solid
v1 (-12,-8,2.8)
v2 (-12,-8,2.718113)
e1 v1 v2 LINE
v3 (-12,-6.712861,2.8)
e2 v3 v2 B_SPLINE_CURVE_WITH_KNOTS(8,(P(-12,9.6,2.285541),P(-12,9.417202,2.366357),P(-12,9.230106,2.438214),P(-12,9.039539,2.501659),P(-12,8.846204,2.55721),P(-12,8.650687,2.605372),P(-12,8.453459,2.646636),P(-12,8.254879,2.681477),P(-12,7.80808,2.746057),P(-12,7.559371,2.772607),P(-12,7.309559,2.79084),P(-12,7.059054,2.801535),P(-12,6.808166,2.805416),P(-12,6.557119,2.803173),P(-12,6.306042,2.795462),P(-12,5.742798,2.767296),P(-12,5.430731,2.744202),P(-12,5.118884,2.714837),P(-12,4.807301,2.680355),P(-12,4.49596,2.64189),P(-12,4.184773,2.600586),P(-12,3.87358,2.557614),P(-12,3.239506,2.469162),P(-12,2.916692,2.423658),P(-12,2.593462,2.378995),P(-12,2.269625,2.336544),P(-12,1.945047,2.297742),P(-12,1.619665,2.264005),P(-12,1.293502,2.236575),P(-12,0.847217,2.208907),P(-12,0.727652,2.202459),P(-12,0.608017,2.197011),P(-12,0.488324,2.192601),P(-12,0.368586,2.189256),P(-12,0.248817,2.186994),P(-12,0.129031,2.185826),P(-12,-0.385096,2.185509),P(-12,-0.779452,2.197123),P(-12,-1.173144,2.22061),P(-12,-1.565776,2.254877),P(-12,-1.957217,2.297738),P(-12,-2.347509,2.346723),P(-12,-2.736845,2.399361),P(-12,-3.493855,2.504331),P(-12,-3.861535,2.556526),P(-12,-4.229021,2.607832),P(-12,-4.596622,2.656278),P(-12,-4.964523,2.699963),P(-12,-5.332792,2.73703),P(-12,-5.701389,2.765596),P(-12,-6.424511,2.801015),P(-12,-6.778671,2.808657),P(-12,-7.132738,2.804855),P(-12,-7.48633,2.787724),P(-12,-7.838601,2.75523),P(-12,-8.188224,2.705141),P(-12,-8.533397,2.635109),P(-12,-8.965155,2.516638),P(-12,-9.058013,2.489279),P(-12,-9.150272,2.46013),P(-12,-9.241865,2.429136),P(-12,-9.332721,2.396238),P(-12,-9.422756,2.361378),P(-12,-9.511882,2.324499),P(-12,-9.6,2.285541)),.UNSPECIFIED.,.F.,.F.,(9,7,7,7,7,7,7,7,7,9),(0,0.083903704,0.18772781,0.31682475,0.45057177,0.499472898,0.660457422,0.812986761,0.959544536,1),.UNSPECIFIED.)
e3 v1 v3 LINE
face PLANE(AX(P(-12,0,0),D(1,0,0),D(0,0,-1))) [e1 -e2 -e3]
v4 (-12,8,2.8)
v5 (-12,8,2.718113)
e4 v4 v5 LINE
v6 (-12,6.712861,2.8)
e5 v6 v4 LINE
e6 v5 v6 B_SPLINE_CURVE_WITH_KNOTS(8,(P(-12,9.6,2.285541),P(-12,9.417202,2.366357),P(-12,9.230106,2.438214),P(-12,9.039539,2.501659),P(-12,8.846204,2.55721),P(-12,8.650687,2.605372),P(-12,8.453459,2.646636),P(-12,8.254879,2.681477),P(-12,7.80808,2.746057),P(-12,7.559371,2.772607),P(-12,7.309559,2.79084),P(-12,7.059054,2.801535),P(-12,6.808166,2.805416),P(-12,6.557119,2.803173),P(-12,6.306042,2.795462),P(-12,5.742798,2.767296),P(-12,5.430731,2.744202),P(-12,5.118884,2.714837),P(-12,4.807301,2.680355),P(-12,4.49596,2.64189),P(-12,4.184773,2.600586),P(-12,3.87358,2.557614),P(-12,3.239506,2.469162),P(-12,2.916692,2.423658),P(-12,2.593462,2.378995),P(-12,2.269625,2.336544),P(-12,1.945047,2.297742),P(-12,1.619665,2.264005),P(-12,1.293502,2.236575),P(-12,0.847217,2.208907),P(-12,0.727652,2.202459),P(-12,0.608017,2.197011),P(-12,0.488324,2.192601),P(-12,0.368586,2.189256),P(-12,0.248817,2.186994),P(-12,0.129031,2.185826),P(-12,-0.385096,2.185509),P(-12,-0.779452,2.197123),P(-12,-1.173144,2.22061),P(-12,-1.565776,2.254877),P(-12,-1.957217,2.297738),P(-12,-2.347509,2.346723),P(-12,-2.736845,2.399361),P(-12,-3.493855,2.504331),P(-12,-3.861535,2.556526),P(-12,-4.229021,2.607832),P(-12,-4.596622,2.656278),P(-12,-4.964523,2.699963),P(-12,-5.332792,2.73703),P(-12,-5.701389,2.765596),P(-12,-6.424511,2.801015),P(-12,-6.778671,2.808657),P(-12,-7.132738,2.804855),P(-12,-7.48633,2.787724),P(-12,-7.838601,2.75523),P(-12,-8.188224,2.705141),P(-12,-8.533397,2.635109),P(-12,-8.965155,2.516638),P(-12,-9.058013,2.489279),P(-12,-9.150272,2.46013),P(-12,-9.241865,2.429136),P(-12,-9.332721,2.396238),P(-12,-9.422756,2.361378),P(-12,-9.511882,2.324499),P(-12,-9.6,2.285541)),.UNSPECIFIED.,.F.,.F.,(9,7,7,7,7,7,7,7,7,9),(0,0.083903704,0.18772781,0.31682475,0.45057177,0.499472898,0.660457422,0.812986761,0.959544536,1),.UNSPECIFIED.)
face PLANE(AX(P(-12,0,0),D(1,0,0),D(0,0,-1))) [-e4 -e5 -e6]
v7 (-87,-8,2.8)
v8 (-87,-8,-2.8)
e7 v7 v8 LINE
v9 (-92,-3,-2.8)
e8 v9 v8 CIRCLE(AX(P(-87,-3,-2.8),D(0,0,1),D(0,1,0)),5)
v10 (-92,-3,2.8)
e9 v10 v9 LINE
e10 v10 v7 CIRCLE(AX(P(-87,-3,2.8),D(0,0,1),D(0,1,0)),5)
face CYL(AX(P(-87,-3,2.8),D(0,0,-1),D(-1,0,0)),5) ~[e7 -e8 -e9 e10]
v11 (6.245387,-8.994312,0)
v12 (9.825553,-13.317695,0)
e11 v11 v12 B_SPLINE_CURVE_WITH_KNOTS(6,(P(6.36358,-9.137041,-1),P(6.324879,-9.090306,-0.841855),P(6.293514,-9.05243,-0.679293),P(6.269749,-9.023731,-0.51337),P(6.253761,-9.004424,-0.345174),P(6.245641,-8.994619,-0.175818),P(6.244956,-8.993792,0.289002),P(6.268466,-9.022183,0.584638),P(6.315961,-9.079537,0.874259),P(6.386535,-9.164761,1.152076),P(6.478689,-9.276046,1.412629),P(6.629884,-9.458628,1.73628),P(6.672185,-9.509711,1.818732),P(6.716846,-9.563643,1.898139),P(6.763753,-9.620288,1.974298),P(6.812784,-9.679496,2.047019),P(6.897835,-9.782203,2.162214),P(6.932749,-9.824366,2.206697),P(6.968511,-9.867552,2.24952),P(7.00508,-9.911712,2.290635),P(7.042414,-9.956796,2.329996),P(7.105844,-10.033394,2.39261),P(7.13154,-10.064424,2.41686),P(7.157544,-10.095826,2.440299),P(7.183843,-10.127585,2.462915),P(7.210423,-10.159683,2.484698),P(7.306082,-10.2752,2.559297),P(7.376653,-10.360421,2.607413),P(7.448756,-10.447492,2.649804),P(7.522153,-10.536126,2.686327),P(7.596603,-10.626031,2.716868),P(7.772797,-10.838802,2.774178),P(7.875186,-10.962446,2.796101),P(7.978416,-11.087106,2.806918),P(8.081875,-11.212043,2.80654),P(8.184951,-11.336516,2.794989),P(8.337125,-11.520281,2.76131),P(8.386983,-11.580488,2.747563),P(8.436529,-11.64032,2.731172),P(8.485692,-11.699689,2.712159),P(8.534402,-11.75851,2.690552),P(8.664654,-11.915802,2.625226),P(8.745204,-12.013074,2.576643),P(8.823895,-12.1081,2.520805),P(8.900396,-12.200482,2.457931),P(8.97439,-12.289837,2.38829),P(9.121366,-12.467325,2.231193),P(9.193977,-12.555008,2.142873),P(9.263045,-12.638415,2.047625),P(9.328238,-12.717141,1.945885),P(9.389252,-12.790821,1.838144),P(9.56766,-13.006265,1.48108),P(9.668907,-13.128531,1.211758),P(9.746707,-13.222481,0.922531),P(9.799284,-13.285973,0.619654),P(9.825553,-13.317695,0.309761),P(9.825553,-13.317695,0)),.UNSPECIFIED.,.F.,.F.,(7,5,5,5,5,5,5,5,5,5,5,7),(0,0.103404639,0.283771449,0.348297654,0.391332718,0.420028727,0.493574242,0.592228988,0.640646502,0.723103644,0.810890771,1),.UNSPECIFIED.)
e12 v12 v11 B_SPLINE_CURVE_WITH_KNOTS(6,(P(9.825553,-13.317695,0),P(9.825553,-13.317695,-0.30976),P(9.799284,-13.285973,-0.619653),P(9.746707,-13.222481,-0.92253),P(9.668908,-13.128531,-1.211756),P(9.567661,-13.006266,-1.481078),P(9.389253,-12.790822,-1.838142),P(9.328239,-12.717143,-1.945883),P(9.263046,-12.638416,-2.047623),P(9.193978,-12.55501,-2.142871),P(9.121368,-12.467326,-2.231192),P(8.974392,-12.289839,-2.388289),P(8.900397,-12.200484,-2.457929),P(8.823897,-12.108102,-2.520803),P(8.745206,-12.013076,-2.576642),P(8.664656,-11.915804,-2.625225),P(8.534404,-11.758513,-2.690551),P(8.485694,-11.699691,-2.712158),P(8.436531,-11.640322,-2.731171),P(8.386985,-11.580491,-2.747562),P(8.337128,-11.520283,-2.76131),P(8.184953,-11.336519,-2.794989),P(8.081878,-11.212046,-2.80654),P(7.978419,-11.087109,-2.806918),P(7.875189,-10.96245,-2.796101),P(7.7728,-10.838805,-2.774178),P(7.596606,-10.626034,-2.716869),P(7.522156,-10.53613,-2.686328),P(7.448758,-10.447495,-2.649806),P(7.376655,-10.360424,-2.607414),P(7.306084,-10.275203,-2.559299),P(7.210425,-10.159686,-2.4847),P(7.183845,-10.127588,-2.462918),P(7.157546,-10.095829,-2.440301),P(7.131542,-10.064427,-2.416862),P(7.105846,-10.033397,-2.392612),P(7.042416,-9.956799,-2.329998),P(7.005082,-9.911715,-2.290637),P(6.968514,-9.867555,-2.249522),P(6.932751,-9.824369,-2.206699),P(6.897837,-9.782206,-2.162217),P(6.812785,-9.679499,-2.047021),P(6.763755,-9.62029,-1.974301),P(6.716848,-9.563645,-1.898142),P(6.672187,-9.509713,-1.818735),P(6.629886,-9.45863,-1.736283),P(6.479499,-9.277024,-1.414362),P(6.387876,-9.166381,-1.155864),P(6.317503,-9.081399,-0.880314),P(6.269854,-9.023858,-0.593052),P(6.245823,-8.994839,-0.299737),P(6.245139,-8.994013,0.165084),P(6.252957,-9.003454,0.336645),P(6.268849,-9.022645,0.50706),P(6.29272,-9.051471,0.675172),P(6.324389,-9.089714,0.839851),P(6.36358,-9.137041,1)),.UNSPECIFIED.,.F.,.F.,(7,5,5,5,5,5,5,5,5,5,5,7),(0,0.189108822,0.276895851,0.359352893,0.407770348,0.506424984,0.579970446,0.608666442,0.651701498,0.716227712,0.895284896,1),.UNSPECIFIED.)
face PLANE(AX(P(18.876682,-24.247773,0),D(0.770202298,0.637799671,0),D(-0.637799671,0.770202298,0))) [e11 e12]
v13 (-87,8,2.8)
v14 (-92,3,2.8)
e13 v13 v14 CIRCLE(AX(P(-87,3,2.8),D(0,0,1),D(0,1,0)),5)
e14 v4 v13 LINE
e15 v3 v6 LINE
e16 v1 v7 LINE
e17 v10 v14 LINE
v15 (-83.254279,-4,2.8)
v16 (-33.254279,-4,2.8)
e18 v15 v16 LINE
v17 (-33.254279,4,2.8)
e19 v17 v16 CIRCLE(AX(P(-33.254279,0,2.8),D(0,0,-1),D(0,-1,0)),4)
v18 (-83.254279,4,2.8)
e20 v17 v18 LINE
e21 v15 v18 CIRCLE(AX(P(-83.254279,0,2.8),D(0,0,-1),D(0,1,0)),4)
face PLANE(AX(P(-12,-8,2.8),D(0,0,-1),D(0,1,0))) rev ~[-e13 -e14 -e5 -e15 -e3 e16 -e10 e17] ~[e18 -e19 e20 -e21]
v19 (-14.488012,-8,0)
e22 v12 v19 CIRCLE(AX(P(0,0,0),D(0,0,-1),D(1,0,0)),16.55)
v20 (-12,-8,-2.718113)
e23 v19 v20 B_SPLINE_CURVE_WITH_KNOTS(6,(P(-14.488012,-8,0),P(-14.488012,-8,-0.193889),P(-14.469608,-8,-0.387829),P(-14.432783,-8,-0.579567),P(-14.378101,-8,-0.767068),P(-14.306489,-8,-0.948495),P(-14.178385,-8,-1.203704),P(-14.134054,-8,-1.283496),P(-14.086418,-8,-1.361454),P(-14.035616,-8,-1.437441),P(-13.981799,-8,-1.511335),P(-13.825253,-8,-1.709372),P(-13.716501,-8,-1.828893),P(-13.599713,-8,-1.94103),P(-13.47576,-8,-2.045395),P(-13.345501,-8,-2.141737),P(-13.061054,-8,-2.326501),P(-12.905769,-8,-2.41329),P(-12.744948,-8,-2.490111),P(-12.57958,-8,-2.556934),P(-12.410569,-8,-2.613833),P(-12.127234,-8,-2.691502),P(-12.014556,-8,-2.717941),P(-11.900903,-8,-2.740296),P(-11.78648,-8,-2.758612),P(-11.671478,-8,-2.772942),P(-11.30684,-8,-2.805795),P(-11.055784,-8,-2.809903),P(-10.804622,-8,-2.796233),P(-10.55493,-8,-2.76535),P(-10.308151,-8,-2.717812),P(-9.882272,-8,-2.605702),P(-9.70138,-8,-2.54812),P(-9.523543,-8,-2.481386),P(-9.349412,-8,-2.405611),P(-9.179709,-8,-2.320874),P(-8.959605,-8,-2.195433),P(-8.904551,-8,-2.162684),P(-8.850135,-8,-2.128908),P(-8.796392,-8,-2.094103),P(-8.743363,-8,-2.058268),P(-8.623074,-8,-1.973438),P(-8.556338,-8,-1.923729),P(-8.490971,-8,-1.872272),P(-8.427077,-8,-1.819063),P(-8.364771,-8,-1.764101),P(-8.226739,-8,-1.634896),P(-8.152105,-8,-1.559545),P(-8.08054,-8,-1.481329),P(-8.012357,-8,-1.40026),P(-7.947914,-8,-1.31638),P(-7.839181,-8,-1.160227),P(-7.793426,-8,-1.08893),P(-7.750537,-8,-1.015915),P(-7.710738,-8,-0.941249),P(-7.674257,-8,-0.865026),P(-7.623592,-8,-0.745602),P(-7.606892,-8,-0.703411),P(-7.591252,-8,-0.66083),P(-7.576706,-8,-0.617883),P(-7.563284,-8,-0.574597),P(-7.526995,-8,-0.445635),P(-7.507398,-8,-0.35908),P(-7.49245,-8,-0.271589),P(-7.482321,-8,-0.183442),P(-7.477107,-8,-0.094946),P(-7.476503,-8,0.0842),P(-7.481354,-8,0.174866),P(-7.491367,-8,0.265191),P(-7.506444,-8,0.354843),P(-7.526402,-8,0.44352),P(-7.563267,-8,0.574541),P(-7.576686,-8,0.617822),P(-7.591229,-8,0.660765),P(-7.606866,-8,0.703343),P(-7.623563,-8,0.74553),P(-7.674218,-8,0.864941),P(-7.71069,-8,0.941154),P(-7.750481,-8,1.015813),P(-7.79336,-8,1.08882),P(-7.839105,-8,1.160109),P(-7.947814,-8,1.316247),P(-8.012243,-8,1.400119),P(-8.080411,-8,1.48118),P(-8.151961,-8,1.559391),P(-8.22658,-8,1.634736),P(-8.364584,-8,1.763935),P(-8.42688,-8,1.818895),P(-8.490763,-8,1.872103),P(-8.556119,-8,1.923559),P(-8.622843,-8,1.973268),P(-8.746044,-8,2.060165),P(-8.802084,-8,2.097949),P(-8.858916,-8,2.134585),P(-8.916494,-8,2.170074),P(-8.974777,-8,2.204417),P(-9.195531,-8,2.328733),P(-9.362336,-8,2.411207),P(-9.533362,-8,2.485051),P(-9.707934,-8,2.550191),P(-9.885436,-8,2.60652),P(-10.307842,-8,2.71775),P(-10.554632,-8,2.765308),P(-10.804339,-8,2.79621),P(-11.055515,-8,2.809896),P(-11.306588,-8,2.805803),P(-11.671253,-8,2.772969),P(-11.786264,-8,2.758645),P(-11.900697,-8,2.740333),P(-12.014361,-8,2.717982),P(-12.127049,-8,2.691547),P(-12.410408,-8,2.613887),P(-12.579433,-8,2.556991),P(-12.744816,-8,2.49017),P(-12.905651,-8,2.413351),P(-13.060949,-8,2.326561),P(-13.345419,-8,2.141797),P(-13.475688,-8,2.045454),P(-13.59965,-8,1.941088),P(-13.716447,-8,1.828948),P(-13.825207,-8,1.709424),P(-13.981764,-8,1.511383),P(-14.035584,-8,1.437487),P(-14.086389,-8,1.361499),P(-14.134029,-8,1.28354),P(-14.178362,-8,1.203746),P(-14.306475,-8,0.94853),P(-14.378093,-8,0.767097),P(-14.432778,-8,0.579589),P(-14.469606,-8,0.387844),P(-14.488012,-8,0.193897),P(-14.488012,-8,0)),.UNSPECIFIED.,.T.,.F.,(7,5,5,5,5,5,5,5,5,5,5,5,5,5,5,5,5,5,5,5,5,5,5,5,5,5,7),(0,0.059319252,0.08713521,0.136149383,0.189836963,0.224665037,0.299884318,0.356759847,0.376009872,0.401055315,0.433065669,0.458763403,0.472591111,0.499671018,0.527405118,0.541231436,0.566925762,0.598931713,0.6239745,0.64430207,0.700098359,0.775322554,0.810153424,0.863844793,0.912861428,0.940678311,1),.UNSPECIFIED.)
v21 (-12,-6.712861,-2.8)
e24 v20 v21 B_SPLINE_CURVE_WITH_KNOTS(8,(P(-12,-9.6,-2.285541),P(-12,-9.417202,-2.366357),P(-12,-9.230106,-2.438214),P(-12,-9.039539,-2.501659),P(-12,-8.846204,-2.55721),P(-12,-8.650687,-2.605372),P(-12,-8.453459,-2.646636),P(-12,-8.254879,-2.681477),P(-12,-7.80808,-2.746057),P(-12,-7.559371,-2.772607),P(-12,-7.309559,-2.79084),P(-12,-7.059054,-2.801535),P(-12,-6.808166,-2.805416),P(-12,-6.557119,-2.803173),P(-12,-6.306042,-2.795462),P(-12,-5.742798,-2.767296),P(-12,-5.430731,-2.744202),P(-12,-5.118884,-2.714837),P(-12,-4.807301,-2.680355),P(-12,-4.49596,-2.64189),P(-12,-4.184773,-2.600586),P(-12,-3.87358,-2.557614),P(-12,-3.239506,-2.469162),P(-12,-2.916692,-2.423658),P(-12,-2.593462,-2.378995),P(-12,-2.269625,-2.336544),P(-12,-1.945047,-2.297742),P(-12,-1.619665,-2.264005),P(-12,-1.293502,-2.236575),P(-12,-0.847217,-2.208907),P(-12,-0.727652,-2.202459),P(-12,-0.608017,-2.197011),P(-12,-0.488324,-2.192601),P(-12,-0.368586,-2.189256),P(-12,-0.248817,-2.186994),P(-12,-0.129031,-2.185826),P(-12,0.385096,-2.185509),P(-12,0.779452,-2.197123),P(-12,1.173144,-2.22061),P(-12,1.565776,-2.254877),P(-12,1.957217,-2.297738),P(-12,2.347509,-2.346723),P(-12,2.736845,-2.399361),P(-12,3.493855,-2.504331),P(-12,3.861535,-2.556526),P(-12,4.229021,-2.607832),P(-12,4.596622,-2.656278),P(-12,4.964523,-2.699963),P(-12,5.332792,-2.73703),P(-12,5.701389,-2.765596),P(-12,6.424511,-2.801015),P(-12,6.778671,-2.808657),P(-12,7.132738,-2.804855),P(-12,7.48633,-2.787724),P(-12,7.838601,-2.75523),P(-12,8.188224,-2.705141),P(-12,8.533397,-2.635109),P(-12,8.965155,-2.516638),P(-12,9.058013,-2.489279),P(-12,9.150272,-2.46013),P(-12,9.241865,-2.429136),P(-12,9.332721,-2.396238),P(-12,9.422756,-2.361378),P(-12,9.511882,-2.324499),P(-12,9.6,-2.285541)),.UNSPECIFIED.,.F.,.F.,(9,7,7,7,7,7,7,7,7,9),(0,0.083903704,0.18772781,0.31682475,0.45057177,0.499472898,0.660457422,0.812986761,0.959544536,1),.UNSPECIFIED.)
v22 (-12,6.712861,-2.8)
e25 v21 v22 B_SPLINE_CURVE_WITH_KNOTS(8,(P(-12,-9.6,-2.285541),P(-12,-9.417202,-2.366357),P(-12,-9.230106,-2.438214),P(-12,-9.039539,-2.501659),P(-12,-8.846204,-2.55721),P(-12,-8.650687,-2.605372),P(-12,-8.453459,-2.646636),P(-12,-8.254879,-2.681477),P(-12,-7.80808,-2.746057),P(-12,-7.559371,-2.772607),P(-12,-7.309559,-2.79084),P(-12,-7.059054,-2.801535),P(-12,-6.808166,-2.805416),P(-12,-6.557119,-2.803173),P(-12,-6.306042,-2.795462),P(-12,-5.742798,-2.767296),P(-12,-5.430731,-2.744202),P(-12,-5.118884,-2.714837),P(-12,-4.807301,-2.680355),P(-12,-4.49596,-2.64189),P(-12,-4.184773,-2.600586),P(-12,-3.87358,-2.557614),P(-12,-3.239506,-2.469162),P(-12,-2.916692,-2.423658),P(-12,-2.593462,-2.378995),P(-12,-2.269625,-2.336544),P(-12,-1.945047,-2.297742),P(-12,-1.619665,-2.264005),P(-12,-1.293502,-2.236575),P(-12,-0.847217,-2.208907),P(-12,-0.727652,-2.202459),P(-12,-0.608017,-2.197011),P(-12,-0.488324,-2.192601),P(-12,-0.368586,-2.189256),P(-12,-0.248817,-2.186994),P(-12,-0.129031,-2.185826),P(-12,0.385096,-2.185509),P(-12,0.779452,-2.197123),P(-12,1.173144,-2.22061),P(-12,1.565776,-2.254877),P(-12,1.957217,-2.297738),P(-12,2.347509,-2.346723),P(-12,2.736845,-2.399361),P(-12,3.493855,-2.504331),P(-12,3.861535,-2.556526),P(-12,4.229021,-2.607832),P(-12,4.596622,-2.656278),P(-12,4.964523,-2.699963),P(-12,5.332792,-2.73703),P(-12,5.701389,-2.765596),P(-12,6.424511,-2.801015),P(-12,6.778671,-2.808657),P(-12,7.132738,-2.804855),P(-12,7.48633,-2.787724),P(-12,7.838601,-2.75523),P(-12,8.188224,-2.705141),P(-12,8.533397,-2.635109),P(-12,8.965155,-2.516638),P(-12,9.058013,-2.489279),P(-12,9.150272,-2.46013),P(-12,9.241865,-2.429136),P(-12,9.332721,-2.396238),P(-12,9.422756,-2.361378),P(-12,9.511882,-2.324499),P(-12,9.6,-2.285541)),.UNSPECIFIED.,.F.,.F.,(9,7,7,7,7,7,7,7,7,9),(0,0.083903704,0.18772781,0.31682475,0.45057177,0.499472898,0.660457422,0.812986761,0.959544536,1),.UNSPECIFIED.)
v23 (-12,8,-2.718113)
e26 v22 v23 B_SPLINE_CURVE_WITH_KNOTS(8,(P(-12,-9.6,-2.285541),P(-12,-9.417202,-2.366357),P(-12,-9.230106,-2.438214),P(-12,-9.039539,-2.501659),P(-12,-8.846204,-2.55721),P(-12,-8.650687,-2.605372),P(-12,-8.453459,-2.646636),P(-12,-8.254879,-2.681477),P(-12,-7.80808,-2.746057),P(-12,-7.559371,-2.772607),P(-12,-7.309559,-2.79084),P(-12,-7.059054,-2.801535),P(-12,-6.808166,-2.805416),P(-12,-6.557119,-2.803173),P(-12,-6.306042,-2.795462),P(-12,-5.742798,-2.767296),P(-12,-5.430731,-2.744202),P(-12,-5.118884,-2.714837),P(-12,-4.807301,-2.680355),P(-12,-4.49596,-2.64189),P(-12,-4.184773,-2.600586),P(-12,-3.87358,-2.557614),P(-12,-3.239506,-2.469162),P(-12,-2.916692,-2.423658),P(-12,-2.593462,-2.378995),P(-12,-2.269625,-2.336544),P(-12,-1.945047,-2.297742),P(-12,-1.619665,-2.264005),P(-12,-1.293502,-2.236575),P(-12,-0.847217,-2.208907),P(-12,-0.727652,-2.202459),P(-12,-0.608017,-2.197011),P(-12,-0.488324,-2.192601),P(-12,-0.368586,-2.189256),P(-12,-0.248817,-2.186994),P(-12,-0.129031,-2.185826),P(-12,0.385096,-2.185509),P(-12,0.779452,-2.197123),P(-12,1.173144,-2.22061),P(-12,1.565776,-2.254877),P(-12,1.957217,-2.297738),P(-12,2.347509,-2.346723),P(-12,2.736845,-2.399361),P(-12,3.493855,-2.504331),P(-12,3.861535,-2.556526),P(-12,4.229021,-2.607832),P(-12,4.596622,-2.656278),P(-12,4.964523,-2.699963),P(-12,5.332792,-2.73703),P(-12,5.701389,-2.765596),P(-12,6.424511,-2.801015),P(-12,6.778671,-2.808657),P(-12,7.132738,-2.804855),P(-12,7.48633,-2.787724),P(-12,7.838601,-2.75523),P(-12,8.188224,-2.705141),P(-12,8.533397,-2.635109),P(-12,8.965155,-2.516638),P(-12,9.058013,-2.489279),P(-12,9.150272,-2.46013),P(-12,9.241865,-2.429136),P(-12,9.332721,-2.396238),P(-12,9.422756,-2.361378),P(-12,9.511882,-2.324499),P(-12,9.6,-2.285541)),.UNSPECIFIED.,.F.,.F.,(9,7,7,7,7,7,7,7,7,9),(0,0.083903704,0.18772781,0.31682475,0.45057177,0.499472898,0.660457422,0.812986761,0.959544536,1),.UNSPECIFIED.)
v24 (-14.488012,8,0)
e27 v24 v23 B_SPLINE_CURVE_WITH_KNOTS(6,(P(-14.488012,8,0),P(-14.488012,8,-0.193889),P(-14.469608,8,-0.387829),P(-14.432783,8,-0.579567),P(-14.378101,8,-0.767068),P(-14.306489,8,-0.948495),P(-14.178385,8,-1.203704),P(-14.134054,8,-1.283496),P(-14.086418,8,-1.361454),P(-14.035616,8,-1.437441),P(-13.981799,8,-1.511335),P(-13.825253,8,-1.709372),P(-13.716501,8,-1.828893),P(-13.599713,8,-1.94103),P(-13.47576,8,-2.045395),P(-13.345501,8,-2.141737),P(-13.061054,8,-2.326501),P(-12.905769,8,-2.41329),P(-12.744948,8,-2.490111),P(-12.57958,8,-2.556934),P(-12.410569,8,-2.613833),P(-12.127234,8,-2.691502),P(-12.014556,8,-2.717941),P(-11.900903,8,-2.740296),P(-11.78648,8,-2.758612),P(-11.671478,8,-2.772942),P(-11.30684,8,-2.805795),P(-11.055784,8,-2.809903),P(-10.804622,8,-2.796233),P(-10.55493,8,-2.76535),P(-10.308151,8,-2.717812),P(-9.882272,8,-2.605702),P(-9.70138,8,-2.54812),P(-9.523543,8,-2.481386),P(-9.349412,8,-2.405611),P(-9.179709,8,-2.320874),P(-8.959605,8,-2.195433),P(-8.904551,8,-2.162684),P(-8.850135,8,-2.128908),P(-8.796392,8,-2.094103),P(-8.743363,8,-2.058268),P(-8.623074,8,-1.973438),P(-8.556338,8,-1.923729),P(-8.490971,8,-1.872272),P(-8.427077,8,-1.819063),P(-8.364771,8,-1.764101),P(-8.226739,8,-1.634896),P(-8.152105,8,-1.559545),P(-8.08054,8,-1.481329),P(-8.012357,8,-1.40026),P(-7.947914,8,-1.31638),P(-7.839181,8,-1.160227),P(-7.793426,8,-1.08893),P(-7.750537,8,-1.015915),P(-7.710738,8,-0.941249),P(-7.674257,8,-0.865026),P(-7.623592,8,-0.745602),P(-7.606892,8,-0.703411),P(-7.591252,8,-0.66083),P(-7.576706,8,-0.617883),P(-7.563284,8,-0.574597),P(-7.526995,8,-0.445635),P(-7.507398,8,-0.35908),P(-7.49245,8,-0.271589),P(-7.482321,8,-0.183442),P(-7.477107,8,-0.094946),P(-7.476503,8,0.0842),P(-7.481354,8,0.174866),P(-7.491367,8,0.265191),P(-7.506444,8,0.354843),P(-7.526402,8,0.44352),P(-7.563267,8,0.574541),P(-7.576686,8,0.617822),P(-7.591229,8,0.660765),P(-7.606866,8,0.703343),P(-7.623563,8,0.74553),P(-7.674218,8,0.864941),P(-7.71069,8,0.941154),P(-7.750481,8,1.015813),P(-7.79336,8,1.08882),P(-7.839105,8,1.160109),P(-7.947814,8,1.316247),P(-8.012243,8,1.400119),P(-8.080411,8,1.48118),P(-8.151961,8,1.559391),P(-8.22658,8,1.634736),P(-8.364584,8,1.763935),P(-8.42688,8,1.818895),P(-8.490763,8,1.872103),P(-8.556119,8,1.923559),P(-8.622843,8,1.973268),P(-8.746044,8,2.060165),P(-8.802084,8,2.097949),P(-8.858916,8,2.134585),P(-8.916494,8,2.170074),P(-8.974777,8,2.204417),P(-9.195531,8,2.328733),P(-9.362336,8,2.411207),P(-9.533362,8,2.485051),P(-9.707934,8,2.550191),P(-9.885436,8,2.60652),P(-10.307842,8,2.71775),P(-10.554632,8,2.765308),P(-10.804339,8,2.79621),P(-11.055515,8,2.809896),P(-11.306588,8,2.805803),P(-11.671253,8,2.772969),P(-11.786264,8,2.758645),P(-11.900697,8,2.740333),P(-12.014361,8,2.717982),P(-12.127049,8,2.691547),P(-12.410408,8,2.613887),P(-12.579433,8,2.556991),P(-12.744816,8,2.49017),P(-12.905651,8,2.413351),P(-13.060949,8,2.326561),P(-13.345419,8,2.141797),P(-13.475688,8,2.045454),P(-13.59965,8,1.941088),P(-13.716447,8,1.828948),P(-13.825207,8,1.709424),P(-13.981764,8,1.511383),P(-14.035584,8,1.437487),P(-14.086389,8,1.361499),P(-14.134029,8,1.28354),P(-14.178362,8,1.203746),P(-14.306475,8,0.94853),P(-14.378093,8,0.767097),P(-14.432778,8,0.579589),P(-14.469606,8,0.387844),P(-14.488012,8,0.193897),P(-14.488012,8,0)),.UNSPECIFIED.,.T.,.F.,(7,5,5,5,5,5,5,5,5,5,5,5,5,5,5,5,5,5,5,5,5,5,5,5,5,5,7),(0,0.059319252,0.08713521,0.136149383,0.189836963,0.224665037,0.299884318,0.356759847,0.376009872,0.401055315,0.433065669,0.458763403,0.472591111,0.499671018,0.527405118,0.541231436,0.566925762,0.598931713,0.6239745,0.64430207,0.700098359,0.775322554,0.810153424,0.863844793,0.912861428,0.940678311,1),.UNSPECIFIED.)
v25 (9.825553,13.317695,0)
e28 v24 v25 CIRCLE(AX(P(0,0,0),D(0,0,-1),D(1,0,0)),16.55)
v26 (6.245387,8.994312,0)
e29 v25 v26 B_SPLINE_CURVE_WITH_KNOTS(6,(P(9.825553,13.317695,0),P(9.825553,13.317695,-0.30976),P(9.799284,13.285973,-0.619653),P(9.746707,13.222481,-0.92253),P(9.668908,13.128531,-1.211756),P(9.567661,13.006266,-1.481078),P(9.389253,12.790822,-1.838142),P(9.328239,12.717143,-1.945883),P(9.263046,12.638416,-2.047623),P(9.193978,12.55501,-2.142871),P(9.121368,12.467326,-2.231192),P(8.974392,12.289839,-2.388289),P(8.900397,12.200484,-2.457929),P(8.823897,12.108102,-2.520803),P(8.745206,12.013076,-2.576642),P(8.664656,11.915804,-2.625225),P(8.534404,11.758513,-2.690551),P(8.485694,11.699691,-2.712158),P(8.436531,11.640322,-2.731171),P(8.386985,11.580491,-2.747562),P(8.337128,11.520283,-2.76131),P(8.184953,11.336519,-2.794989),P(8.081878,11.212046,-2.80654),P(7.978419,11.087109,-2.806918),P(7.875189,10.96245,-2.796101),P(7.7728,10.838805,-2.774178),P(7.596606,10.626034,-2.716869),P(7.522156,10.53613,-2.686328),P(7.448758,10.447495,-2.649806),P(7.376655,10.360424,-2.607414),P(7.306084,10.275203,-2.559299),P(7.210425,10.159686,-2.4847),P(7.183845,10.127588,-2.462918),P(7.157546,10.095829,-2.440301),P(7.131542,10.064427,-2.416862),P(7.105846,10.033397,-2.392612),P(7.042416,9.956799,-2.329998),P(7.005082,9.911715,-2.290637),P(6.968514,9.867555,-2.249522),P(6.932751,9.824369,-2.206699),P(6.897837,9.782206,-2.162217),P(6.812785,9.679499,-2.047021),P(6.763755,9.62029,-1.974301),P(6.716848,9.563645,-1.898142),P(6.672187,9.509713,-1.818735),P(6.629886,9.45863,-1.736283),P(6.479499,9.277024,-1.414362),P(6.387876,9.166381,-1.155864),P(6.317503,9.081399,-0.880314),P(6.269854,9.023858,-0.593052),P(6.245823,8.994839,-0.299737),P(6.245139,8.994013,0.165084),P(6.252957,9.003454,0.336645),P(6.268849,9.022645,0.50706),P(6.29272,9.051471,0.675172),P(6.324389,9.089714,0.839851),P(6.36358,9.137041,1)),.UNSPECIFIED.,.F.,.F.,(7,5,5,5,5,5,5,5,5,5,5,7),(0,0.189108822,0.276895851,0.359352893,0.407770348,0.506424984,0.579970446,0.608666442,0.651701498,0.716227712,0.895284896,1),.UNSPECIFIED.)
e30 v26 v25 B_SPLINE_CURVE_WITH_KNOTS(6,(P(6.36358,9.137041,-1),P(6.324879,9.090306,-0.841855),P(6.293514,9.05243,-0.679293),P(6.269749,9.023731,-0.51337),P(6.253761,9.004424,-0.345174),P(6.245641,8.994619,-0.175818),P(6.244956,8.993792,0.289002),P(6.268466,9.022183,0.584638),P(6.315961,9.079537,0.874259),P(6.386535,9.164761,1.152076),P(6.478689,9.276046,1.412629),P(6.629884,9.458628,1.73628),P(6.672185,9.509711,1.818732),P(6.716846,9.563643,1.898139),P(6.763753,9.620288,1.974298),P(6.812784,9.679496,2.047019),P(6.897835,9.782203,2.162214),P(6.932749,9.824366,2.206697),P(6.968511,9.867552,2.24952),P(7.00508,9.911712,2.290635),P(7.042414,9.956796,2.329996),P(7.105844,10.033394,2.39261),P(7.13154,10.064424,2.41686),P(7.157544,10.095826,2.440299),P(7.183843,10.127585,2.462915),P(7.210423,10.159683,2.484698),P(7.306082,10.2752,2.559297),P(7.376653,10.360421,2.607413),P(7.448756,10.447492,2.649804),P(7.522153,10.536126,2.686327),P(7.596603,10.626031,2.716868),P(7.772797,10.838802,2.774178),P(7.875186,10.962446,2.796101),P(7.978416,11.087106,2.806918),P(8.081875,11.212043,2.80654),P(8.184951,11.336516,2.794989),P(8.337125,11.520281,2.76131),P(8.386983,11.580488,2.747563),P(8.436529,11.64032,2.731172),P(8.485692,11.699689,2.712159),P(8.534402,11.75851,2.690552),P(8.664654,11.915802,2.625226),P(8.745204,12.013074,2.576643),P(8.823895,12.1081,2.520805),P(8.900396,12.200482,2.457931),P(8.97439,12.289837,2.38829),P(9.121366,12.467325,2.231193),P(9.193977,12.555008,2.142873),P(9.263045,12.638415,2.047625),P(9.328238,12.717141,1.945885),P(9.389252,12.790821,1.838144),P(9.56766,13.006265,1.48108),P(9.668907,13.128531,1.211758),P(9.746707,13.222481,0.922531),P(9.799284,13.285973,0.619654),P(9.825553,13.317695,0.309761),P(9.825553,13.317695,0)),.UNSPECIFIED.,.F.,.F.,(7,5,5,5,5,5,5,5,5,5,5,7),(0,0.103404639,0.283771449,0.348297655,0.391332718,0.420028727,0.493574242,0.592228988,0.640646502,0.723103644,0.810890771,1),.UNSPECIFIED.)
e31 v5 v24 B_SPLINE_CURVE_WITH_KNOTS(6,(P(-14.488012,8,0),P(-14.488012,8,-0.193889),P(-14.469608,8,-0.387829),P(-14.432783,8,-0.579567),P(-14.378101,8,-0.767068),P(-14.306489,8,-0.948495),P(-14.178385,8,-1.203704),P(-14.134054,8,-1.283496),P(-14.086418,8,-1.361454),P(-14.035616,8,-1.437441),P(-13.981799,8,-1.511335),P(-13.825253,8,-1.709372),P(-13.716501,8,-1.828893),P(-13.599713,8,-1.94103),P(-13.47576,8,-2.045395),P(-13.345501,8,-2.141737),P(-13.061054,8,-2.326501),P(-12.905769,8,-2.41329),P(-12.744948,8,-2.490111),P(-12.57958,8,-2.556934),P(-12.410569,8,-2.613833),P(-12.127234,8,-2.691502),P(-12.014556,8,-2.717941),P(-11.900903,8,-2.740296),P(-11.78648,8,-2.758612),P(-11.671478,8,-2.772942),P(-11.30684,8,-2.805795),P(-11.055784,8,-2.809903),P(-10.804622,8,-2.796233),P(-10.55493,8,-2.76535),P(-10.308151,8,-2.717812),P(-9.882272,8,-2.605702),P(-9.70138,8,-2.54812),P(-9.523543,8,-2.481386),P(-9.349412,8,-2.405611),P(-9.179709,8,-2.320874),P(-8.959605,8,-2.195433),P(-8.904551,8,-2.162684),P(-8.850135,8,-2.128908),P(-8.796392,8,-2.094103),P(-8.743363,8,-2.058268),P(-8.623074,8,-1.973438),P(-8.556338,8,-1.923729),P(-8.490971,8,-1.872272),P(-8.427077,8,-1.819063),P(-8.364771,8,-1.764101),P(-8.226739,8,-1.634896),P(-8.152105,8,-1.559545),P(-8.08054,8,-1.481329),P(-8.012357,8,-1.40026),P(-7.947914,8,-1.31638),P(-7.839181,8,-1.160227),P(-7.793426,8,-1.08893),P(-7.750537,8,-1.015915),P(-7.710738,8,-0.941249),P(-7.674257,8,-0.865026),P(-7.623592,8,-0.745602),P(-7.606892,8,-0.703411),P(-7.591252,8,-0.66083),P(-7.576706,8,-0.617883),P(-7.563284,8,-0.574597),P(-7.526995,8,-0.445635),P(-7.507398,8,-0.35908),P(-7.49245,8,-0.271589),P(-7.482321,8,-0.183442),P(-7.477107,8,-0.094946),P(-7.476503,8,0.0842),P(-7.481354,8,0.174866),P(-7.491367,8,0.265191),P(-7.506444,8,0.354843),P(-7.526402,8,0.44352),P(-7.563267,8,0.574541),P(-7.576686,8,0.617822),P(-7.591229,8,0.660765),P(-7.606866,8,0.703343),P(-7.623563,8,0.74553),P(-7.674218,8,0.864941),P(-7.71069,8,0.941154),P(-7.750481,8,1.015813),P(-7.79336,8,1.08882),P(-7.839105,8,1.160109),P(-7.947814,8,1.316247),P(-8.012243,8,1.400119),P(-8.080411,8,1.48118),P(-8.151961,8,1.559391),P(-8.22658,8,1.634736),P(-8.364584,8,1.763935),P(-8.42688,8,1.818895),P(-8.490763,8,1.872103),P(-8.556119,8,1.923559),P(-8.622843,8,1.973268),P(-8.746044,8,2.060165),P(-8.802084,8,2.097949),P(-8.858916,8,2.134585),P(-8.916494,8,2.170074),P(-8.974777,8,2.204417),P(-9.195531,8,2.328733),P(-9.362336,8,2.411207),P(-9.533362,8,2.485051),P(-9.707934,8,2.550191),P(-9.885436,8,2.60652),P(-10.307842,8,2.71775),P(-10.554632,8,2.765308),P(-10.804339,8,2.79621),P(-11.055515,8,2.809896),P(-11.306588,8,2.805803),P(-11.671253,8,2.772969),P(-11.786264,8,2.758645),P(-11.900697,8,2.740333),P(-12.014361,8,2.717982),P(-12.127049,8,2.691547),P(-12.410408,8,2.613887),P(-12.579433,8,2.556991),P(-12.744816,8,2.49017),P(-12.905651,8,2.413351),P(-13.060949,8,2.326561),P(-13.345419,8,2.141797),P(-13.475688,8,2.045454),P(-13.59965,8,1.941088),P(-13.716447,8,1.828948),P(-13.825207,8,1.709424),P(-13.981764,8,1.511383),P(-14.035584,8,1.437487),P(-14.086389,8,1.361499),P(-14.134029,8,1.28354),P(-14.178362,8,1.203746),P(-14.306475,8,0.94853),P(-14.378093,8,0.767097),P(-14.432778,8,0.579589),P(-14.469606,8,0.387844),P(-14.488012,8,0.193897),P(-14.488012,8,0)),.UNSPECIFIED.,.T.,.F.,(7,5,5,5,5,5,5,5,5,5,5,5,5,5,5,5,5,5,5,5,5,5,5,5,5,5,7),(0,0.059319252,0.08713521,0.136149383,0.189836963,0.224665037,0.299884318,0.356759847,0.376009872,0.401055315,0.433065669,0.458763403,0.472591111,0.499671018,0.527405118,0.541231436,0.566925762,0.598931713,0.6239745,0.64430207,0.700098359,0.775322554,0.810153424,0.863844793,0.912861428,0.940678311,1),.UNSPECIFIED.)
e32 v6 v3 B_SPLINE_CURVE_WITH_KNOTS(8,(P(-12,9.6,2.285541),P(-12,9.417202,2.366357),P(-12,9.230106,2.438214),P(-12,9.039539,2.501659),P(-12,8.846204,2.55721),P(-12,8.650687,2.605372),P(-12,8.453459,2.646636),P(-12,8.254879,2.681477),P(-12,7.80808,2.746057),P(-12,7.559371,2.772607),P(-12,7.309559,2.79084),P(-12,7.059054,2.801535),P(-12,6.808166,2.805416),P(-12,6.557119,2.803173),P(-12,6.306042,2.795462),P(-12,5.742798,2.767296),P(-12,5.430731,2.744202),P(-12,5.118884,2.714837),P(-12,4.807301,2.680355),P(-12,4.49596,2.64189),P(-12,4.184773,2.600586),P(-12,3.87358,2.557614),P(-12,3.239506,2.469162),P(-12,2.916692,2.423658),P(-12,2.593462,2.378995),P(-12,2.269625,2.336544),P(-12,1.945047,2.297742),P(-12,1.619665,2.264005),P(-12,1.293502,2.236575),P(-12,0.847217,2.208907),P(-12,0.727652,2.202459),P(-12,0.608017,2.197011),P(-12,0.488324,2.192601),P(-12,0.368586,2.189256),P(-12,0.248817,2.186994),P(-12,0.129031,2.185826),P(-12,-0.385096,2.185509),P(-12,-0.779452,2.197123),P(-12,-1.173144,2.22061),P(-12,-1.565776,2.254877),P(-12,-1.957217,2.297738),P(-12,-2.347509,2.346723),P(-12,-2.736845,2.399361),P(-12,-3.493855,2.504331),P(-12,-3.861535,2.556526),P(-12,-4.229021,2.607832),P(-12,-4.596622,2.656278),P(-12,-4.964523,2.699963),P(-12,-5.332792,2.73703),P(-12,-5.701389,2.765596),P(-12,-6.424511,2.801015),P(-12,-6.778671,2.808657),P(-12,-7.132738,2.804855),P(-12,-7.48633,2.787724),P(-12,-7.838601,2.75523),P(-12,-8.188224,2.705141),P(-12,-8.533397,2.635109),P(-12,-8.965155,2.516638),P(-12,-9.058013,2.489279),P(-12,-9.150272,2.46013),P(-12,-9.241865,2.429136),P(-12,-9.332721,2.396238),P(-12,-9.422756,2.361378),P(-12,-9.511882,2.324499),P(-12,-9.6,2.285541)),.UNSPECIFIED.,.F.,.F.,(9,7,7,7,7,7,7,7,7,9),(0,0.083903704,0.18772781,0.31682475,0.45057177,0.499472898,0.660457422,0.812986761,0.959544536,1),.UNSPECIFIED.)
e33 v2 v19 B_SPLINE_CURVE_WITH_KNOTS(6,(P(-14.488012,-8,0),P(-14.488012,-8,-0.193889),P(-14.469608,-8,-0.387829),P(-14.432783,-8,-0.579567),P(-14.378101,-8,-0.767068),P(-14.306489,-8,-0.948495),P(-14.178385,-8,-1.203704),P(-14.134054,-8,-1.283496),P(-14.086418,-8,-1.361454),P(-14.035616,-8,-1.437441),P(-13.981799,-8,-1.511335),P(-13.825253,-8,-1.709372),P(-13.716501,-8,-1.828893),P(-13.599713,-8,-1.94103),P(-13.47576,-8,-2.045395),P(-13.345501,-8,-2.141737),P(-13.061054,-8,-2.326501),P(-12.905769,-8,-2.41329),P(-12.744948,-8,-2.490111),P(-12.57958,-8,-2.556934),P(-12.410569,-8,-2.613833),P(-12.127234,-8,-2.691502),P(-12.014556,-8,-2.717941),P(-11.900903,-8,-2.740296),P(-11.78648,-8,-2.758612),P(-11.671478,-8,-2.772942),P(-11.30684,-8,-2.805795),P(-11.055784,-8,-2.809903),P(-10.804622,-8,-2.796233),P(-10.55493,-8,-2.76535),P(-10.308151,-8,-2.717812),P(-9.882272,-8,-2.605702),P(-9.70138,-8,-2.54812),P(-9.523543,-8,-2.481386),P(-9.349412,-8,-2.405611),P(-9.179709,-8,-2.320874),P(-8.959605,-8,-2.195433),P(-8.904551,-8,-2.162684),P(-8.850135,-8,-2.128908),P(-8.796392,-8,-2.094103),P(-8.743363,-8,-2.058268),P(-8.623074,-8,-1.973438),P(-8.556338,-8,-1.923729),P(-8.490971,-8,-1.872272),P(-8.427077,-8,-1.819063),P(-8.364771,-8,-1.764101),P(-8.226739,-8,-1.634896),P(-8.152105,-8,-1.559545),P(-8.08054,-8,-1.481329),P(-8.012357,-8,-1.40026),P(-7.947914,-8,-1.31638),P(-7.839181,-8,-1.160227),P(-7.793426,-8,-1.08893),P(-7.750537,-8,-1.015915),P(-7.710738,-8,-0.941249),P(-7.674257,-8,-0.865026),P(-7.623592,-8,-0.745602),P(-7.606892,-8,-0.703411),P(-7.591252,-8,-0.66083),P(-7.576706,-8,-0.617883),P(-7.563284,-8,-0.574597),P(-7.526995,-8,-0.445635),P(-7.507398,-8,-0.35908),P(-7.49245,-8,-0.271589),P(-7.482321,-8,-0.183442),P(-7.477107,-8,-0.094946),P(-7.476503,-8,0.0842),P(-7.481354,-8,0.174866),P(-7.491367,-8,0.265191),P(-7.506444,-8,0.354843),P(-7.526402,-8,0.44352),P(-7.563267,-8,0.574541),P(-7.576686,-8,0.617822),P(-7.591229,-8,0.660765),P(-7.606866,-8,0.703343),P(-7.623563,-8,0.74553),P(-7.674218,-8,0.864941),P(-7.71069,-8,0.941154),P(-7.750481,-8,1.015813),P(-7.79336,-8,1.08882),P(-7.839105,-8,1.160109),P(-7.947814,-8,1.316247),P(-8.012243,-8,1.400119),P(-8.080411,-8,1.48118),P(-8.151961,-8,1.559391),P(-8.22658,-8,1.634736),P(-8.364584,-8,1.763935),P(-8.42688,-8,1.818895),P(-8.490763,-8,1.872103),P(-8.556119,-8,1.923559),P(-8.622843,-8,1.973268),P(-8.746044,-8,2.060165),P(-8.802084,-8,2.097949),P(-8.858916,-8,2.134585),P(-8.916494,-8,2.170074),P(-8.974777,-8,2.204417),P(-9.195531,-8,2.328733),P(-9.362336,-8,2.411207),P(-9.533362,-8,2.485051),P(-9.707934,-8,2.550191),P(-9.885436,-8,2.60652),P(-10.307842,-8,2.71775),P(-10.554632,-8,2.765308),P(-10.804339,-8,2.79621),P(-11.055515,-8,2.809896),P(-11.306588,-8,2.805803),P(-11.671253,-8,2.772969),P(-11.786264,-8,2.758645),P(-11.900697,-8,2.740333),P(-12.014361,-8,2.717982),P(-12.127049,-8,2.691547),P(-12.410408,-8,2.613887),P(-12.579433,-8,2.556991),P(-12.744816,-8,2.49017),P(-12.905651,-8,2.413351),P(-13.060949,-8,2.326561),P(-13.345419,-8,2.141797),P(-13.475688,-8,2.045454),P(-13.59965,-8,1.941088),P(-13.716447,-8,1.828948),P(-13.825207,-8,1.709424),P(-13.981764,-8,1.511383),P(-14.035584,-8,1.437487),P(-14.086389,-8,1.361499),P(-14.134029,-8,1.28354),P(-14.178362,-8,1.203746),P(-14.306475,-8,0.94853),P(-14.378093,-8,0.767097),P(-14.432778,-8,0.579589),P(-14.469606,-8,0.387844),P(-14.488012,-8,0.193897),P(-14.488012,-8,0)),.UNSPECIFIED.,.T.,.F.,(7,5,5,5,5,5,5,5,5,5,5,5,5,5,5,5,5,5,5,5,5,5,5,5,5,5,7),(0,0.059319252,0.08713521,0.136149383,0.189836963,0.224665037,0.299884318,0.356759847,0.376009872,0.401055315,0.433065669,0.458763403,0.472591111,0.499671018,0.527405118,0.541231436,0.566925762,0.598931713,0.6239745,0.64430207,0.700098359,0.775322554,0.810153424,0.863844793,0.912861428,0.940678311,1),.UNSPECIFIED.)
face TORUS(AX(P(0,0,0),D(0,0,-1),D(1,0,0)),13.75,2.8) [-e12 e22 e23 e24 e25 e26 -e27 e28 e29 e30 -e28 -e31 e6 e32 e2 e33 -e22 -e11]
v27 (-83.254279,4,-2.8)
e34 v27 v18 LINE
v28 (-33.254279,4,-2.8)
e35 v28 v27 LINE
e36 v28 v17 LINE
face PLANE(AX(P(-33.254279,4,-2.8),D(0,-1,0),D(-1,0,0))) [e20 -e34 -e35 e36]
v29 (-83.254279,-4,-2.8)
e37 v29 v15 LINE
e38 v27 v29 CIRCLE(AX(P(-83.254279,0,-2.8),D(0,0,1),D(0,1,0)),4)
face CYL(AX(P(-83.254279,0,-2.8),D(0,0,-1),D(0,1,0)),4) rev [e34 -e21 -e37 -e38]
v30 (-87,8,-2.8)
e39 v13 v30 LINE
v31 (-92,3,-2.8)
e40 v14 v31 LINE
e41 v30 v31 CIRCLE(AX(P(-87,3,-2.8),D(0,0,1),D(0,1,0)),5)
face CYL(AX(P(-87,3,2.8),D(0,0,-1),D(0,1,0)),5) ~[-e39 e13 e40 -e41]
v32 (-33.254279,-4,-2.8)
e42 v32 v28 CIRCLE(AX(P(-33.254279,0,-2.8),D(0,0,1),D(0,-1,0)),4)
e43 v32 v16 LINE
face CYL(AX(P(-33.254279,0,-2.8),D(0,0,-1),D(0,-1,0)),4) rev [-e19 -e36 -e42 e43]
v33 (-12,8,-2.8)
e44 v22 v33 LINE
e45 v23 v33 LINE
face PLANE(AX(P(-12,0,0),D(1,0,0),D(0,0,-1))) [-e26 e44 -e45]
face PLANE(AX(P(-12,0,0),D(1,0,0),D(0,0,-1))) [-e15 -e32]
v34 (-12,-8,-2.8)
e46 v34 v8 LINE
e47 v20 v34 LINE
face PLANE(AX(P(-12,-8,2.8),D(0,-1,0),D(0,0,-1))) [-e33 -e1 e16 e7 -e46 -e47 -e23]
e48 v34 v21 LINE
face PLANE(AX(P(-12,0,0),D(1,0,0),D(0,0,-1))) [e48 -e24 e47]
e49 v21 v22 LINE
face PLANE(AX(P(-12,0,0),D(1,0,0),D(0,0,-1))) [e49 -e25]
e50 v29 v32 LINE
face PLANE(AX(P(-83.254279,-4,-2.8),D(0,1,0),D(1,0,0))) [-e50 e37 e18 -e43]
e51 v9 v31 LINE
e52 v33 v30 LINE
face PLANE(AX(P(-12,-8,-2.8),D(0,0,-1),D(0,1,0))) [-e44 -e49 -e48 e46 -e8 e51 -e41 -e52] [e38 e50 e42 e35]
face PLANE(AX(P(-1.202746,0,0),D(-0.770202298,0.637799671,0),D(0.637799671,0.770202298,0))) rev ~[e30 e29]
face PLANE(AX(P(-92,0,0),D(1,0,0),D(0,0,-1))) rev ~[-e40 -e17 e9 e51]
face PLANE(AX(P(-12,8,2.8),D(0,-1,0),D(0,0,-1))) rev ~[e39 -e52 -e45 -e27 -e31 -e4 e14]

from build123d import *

# Parameters (mm, degrees)
ESBO_O2_R                  = 2.8
CORTE_EXTRUS_O1_DEPTH      = 10
CORTE_EXTRUS_O1_DEPTH_BACK = 10
RESSALTO_EXTRUS_O1_START   = -12
ESBO_O5_W                  = 5.6
ESBO_O5_H                  = 16
RESSALTO_EXTRUS_O1_DEPTH   = 80
FILETE1_R                  = 5
CORTE_EXTRUS_O2_DEPTH      = 19


with BuildPart() as part:
    # Esboço2 → Revolução1 (revolve)
    with BuildSketch(Plane(origin=(0, 0, 0), x_dir=(1, 0, 0), z_dir=(0, 1, 0))):
        with Locations((13.75, 0)):
            Circle(ESBO_O2_R)
    revolve(axis=Axis((0, 0, 0), (0, 0, -1)))

    # Esboço3 → Corte-extrusão1 (cut, two sides: drawn at the far end of the back side and taken through both)
    with BuildSketch(Plane.XY.offset(-CORTE_EXTRUS_O1_DEPTH_BACK)):
        Polygon((-1.202746457, 0), (18.876681975, 24.24777346), (18.876681975, -24.24777346), align=None)
    extrude(amount=CORTE_EXTRUS_O1_DEPTH + CORTE_EXTRUS_O1_DEPTH_BACK, mode=Mode.SUBTRACT)

    # Esboço5 → Ressalto-extrusão1 (add)
    with BuildSketch(Plane(origin=(0, 0, 0), x_dir=(0, 0, -1), z_dir=(1, 0, 0)).offset(RESSALTO_EXTRUS_O1_START)):
        Rectangle(ESBO_O5_W, ESBO_O5_H)
    extrude(amount=-RESSALTO_EXTRUS_O1_DEPTH)

    # Filete1
    filete1_edges = [part.edges().sort_by_distance(p)[0] for p in [
        (-92, 8, 0),
        (-92, -8, 0),
    ]]
    fillet(filete1_edges, radius=FILETE1_R)

    # Esboço7 → Corte-extrusão2 (cut)
    with BuildSketch(Plane(origin=(0, 0, -2.8), x_dir=(-1, 0, 0), z_dir=(0, 0, -1))):
        with BuildLine():
            Line((33.254278711, 4), (83.254278711, 4))
            ThreePointArc((83.254278711, 4), (87.254278711, 0), (83.254278711, -4))
            Line((83.254278711, -4), (33.254278711, -4))
            ThreePointArc((33.254278711, -4), (29.254278711, 0), (33.254278711, 4))
        make_face()
    extrude(amount=-CORTE_EXTRUS_O2_DEPTH, mode=Mode.SUBTRACT)


solid = part.part
